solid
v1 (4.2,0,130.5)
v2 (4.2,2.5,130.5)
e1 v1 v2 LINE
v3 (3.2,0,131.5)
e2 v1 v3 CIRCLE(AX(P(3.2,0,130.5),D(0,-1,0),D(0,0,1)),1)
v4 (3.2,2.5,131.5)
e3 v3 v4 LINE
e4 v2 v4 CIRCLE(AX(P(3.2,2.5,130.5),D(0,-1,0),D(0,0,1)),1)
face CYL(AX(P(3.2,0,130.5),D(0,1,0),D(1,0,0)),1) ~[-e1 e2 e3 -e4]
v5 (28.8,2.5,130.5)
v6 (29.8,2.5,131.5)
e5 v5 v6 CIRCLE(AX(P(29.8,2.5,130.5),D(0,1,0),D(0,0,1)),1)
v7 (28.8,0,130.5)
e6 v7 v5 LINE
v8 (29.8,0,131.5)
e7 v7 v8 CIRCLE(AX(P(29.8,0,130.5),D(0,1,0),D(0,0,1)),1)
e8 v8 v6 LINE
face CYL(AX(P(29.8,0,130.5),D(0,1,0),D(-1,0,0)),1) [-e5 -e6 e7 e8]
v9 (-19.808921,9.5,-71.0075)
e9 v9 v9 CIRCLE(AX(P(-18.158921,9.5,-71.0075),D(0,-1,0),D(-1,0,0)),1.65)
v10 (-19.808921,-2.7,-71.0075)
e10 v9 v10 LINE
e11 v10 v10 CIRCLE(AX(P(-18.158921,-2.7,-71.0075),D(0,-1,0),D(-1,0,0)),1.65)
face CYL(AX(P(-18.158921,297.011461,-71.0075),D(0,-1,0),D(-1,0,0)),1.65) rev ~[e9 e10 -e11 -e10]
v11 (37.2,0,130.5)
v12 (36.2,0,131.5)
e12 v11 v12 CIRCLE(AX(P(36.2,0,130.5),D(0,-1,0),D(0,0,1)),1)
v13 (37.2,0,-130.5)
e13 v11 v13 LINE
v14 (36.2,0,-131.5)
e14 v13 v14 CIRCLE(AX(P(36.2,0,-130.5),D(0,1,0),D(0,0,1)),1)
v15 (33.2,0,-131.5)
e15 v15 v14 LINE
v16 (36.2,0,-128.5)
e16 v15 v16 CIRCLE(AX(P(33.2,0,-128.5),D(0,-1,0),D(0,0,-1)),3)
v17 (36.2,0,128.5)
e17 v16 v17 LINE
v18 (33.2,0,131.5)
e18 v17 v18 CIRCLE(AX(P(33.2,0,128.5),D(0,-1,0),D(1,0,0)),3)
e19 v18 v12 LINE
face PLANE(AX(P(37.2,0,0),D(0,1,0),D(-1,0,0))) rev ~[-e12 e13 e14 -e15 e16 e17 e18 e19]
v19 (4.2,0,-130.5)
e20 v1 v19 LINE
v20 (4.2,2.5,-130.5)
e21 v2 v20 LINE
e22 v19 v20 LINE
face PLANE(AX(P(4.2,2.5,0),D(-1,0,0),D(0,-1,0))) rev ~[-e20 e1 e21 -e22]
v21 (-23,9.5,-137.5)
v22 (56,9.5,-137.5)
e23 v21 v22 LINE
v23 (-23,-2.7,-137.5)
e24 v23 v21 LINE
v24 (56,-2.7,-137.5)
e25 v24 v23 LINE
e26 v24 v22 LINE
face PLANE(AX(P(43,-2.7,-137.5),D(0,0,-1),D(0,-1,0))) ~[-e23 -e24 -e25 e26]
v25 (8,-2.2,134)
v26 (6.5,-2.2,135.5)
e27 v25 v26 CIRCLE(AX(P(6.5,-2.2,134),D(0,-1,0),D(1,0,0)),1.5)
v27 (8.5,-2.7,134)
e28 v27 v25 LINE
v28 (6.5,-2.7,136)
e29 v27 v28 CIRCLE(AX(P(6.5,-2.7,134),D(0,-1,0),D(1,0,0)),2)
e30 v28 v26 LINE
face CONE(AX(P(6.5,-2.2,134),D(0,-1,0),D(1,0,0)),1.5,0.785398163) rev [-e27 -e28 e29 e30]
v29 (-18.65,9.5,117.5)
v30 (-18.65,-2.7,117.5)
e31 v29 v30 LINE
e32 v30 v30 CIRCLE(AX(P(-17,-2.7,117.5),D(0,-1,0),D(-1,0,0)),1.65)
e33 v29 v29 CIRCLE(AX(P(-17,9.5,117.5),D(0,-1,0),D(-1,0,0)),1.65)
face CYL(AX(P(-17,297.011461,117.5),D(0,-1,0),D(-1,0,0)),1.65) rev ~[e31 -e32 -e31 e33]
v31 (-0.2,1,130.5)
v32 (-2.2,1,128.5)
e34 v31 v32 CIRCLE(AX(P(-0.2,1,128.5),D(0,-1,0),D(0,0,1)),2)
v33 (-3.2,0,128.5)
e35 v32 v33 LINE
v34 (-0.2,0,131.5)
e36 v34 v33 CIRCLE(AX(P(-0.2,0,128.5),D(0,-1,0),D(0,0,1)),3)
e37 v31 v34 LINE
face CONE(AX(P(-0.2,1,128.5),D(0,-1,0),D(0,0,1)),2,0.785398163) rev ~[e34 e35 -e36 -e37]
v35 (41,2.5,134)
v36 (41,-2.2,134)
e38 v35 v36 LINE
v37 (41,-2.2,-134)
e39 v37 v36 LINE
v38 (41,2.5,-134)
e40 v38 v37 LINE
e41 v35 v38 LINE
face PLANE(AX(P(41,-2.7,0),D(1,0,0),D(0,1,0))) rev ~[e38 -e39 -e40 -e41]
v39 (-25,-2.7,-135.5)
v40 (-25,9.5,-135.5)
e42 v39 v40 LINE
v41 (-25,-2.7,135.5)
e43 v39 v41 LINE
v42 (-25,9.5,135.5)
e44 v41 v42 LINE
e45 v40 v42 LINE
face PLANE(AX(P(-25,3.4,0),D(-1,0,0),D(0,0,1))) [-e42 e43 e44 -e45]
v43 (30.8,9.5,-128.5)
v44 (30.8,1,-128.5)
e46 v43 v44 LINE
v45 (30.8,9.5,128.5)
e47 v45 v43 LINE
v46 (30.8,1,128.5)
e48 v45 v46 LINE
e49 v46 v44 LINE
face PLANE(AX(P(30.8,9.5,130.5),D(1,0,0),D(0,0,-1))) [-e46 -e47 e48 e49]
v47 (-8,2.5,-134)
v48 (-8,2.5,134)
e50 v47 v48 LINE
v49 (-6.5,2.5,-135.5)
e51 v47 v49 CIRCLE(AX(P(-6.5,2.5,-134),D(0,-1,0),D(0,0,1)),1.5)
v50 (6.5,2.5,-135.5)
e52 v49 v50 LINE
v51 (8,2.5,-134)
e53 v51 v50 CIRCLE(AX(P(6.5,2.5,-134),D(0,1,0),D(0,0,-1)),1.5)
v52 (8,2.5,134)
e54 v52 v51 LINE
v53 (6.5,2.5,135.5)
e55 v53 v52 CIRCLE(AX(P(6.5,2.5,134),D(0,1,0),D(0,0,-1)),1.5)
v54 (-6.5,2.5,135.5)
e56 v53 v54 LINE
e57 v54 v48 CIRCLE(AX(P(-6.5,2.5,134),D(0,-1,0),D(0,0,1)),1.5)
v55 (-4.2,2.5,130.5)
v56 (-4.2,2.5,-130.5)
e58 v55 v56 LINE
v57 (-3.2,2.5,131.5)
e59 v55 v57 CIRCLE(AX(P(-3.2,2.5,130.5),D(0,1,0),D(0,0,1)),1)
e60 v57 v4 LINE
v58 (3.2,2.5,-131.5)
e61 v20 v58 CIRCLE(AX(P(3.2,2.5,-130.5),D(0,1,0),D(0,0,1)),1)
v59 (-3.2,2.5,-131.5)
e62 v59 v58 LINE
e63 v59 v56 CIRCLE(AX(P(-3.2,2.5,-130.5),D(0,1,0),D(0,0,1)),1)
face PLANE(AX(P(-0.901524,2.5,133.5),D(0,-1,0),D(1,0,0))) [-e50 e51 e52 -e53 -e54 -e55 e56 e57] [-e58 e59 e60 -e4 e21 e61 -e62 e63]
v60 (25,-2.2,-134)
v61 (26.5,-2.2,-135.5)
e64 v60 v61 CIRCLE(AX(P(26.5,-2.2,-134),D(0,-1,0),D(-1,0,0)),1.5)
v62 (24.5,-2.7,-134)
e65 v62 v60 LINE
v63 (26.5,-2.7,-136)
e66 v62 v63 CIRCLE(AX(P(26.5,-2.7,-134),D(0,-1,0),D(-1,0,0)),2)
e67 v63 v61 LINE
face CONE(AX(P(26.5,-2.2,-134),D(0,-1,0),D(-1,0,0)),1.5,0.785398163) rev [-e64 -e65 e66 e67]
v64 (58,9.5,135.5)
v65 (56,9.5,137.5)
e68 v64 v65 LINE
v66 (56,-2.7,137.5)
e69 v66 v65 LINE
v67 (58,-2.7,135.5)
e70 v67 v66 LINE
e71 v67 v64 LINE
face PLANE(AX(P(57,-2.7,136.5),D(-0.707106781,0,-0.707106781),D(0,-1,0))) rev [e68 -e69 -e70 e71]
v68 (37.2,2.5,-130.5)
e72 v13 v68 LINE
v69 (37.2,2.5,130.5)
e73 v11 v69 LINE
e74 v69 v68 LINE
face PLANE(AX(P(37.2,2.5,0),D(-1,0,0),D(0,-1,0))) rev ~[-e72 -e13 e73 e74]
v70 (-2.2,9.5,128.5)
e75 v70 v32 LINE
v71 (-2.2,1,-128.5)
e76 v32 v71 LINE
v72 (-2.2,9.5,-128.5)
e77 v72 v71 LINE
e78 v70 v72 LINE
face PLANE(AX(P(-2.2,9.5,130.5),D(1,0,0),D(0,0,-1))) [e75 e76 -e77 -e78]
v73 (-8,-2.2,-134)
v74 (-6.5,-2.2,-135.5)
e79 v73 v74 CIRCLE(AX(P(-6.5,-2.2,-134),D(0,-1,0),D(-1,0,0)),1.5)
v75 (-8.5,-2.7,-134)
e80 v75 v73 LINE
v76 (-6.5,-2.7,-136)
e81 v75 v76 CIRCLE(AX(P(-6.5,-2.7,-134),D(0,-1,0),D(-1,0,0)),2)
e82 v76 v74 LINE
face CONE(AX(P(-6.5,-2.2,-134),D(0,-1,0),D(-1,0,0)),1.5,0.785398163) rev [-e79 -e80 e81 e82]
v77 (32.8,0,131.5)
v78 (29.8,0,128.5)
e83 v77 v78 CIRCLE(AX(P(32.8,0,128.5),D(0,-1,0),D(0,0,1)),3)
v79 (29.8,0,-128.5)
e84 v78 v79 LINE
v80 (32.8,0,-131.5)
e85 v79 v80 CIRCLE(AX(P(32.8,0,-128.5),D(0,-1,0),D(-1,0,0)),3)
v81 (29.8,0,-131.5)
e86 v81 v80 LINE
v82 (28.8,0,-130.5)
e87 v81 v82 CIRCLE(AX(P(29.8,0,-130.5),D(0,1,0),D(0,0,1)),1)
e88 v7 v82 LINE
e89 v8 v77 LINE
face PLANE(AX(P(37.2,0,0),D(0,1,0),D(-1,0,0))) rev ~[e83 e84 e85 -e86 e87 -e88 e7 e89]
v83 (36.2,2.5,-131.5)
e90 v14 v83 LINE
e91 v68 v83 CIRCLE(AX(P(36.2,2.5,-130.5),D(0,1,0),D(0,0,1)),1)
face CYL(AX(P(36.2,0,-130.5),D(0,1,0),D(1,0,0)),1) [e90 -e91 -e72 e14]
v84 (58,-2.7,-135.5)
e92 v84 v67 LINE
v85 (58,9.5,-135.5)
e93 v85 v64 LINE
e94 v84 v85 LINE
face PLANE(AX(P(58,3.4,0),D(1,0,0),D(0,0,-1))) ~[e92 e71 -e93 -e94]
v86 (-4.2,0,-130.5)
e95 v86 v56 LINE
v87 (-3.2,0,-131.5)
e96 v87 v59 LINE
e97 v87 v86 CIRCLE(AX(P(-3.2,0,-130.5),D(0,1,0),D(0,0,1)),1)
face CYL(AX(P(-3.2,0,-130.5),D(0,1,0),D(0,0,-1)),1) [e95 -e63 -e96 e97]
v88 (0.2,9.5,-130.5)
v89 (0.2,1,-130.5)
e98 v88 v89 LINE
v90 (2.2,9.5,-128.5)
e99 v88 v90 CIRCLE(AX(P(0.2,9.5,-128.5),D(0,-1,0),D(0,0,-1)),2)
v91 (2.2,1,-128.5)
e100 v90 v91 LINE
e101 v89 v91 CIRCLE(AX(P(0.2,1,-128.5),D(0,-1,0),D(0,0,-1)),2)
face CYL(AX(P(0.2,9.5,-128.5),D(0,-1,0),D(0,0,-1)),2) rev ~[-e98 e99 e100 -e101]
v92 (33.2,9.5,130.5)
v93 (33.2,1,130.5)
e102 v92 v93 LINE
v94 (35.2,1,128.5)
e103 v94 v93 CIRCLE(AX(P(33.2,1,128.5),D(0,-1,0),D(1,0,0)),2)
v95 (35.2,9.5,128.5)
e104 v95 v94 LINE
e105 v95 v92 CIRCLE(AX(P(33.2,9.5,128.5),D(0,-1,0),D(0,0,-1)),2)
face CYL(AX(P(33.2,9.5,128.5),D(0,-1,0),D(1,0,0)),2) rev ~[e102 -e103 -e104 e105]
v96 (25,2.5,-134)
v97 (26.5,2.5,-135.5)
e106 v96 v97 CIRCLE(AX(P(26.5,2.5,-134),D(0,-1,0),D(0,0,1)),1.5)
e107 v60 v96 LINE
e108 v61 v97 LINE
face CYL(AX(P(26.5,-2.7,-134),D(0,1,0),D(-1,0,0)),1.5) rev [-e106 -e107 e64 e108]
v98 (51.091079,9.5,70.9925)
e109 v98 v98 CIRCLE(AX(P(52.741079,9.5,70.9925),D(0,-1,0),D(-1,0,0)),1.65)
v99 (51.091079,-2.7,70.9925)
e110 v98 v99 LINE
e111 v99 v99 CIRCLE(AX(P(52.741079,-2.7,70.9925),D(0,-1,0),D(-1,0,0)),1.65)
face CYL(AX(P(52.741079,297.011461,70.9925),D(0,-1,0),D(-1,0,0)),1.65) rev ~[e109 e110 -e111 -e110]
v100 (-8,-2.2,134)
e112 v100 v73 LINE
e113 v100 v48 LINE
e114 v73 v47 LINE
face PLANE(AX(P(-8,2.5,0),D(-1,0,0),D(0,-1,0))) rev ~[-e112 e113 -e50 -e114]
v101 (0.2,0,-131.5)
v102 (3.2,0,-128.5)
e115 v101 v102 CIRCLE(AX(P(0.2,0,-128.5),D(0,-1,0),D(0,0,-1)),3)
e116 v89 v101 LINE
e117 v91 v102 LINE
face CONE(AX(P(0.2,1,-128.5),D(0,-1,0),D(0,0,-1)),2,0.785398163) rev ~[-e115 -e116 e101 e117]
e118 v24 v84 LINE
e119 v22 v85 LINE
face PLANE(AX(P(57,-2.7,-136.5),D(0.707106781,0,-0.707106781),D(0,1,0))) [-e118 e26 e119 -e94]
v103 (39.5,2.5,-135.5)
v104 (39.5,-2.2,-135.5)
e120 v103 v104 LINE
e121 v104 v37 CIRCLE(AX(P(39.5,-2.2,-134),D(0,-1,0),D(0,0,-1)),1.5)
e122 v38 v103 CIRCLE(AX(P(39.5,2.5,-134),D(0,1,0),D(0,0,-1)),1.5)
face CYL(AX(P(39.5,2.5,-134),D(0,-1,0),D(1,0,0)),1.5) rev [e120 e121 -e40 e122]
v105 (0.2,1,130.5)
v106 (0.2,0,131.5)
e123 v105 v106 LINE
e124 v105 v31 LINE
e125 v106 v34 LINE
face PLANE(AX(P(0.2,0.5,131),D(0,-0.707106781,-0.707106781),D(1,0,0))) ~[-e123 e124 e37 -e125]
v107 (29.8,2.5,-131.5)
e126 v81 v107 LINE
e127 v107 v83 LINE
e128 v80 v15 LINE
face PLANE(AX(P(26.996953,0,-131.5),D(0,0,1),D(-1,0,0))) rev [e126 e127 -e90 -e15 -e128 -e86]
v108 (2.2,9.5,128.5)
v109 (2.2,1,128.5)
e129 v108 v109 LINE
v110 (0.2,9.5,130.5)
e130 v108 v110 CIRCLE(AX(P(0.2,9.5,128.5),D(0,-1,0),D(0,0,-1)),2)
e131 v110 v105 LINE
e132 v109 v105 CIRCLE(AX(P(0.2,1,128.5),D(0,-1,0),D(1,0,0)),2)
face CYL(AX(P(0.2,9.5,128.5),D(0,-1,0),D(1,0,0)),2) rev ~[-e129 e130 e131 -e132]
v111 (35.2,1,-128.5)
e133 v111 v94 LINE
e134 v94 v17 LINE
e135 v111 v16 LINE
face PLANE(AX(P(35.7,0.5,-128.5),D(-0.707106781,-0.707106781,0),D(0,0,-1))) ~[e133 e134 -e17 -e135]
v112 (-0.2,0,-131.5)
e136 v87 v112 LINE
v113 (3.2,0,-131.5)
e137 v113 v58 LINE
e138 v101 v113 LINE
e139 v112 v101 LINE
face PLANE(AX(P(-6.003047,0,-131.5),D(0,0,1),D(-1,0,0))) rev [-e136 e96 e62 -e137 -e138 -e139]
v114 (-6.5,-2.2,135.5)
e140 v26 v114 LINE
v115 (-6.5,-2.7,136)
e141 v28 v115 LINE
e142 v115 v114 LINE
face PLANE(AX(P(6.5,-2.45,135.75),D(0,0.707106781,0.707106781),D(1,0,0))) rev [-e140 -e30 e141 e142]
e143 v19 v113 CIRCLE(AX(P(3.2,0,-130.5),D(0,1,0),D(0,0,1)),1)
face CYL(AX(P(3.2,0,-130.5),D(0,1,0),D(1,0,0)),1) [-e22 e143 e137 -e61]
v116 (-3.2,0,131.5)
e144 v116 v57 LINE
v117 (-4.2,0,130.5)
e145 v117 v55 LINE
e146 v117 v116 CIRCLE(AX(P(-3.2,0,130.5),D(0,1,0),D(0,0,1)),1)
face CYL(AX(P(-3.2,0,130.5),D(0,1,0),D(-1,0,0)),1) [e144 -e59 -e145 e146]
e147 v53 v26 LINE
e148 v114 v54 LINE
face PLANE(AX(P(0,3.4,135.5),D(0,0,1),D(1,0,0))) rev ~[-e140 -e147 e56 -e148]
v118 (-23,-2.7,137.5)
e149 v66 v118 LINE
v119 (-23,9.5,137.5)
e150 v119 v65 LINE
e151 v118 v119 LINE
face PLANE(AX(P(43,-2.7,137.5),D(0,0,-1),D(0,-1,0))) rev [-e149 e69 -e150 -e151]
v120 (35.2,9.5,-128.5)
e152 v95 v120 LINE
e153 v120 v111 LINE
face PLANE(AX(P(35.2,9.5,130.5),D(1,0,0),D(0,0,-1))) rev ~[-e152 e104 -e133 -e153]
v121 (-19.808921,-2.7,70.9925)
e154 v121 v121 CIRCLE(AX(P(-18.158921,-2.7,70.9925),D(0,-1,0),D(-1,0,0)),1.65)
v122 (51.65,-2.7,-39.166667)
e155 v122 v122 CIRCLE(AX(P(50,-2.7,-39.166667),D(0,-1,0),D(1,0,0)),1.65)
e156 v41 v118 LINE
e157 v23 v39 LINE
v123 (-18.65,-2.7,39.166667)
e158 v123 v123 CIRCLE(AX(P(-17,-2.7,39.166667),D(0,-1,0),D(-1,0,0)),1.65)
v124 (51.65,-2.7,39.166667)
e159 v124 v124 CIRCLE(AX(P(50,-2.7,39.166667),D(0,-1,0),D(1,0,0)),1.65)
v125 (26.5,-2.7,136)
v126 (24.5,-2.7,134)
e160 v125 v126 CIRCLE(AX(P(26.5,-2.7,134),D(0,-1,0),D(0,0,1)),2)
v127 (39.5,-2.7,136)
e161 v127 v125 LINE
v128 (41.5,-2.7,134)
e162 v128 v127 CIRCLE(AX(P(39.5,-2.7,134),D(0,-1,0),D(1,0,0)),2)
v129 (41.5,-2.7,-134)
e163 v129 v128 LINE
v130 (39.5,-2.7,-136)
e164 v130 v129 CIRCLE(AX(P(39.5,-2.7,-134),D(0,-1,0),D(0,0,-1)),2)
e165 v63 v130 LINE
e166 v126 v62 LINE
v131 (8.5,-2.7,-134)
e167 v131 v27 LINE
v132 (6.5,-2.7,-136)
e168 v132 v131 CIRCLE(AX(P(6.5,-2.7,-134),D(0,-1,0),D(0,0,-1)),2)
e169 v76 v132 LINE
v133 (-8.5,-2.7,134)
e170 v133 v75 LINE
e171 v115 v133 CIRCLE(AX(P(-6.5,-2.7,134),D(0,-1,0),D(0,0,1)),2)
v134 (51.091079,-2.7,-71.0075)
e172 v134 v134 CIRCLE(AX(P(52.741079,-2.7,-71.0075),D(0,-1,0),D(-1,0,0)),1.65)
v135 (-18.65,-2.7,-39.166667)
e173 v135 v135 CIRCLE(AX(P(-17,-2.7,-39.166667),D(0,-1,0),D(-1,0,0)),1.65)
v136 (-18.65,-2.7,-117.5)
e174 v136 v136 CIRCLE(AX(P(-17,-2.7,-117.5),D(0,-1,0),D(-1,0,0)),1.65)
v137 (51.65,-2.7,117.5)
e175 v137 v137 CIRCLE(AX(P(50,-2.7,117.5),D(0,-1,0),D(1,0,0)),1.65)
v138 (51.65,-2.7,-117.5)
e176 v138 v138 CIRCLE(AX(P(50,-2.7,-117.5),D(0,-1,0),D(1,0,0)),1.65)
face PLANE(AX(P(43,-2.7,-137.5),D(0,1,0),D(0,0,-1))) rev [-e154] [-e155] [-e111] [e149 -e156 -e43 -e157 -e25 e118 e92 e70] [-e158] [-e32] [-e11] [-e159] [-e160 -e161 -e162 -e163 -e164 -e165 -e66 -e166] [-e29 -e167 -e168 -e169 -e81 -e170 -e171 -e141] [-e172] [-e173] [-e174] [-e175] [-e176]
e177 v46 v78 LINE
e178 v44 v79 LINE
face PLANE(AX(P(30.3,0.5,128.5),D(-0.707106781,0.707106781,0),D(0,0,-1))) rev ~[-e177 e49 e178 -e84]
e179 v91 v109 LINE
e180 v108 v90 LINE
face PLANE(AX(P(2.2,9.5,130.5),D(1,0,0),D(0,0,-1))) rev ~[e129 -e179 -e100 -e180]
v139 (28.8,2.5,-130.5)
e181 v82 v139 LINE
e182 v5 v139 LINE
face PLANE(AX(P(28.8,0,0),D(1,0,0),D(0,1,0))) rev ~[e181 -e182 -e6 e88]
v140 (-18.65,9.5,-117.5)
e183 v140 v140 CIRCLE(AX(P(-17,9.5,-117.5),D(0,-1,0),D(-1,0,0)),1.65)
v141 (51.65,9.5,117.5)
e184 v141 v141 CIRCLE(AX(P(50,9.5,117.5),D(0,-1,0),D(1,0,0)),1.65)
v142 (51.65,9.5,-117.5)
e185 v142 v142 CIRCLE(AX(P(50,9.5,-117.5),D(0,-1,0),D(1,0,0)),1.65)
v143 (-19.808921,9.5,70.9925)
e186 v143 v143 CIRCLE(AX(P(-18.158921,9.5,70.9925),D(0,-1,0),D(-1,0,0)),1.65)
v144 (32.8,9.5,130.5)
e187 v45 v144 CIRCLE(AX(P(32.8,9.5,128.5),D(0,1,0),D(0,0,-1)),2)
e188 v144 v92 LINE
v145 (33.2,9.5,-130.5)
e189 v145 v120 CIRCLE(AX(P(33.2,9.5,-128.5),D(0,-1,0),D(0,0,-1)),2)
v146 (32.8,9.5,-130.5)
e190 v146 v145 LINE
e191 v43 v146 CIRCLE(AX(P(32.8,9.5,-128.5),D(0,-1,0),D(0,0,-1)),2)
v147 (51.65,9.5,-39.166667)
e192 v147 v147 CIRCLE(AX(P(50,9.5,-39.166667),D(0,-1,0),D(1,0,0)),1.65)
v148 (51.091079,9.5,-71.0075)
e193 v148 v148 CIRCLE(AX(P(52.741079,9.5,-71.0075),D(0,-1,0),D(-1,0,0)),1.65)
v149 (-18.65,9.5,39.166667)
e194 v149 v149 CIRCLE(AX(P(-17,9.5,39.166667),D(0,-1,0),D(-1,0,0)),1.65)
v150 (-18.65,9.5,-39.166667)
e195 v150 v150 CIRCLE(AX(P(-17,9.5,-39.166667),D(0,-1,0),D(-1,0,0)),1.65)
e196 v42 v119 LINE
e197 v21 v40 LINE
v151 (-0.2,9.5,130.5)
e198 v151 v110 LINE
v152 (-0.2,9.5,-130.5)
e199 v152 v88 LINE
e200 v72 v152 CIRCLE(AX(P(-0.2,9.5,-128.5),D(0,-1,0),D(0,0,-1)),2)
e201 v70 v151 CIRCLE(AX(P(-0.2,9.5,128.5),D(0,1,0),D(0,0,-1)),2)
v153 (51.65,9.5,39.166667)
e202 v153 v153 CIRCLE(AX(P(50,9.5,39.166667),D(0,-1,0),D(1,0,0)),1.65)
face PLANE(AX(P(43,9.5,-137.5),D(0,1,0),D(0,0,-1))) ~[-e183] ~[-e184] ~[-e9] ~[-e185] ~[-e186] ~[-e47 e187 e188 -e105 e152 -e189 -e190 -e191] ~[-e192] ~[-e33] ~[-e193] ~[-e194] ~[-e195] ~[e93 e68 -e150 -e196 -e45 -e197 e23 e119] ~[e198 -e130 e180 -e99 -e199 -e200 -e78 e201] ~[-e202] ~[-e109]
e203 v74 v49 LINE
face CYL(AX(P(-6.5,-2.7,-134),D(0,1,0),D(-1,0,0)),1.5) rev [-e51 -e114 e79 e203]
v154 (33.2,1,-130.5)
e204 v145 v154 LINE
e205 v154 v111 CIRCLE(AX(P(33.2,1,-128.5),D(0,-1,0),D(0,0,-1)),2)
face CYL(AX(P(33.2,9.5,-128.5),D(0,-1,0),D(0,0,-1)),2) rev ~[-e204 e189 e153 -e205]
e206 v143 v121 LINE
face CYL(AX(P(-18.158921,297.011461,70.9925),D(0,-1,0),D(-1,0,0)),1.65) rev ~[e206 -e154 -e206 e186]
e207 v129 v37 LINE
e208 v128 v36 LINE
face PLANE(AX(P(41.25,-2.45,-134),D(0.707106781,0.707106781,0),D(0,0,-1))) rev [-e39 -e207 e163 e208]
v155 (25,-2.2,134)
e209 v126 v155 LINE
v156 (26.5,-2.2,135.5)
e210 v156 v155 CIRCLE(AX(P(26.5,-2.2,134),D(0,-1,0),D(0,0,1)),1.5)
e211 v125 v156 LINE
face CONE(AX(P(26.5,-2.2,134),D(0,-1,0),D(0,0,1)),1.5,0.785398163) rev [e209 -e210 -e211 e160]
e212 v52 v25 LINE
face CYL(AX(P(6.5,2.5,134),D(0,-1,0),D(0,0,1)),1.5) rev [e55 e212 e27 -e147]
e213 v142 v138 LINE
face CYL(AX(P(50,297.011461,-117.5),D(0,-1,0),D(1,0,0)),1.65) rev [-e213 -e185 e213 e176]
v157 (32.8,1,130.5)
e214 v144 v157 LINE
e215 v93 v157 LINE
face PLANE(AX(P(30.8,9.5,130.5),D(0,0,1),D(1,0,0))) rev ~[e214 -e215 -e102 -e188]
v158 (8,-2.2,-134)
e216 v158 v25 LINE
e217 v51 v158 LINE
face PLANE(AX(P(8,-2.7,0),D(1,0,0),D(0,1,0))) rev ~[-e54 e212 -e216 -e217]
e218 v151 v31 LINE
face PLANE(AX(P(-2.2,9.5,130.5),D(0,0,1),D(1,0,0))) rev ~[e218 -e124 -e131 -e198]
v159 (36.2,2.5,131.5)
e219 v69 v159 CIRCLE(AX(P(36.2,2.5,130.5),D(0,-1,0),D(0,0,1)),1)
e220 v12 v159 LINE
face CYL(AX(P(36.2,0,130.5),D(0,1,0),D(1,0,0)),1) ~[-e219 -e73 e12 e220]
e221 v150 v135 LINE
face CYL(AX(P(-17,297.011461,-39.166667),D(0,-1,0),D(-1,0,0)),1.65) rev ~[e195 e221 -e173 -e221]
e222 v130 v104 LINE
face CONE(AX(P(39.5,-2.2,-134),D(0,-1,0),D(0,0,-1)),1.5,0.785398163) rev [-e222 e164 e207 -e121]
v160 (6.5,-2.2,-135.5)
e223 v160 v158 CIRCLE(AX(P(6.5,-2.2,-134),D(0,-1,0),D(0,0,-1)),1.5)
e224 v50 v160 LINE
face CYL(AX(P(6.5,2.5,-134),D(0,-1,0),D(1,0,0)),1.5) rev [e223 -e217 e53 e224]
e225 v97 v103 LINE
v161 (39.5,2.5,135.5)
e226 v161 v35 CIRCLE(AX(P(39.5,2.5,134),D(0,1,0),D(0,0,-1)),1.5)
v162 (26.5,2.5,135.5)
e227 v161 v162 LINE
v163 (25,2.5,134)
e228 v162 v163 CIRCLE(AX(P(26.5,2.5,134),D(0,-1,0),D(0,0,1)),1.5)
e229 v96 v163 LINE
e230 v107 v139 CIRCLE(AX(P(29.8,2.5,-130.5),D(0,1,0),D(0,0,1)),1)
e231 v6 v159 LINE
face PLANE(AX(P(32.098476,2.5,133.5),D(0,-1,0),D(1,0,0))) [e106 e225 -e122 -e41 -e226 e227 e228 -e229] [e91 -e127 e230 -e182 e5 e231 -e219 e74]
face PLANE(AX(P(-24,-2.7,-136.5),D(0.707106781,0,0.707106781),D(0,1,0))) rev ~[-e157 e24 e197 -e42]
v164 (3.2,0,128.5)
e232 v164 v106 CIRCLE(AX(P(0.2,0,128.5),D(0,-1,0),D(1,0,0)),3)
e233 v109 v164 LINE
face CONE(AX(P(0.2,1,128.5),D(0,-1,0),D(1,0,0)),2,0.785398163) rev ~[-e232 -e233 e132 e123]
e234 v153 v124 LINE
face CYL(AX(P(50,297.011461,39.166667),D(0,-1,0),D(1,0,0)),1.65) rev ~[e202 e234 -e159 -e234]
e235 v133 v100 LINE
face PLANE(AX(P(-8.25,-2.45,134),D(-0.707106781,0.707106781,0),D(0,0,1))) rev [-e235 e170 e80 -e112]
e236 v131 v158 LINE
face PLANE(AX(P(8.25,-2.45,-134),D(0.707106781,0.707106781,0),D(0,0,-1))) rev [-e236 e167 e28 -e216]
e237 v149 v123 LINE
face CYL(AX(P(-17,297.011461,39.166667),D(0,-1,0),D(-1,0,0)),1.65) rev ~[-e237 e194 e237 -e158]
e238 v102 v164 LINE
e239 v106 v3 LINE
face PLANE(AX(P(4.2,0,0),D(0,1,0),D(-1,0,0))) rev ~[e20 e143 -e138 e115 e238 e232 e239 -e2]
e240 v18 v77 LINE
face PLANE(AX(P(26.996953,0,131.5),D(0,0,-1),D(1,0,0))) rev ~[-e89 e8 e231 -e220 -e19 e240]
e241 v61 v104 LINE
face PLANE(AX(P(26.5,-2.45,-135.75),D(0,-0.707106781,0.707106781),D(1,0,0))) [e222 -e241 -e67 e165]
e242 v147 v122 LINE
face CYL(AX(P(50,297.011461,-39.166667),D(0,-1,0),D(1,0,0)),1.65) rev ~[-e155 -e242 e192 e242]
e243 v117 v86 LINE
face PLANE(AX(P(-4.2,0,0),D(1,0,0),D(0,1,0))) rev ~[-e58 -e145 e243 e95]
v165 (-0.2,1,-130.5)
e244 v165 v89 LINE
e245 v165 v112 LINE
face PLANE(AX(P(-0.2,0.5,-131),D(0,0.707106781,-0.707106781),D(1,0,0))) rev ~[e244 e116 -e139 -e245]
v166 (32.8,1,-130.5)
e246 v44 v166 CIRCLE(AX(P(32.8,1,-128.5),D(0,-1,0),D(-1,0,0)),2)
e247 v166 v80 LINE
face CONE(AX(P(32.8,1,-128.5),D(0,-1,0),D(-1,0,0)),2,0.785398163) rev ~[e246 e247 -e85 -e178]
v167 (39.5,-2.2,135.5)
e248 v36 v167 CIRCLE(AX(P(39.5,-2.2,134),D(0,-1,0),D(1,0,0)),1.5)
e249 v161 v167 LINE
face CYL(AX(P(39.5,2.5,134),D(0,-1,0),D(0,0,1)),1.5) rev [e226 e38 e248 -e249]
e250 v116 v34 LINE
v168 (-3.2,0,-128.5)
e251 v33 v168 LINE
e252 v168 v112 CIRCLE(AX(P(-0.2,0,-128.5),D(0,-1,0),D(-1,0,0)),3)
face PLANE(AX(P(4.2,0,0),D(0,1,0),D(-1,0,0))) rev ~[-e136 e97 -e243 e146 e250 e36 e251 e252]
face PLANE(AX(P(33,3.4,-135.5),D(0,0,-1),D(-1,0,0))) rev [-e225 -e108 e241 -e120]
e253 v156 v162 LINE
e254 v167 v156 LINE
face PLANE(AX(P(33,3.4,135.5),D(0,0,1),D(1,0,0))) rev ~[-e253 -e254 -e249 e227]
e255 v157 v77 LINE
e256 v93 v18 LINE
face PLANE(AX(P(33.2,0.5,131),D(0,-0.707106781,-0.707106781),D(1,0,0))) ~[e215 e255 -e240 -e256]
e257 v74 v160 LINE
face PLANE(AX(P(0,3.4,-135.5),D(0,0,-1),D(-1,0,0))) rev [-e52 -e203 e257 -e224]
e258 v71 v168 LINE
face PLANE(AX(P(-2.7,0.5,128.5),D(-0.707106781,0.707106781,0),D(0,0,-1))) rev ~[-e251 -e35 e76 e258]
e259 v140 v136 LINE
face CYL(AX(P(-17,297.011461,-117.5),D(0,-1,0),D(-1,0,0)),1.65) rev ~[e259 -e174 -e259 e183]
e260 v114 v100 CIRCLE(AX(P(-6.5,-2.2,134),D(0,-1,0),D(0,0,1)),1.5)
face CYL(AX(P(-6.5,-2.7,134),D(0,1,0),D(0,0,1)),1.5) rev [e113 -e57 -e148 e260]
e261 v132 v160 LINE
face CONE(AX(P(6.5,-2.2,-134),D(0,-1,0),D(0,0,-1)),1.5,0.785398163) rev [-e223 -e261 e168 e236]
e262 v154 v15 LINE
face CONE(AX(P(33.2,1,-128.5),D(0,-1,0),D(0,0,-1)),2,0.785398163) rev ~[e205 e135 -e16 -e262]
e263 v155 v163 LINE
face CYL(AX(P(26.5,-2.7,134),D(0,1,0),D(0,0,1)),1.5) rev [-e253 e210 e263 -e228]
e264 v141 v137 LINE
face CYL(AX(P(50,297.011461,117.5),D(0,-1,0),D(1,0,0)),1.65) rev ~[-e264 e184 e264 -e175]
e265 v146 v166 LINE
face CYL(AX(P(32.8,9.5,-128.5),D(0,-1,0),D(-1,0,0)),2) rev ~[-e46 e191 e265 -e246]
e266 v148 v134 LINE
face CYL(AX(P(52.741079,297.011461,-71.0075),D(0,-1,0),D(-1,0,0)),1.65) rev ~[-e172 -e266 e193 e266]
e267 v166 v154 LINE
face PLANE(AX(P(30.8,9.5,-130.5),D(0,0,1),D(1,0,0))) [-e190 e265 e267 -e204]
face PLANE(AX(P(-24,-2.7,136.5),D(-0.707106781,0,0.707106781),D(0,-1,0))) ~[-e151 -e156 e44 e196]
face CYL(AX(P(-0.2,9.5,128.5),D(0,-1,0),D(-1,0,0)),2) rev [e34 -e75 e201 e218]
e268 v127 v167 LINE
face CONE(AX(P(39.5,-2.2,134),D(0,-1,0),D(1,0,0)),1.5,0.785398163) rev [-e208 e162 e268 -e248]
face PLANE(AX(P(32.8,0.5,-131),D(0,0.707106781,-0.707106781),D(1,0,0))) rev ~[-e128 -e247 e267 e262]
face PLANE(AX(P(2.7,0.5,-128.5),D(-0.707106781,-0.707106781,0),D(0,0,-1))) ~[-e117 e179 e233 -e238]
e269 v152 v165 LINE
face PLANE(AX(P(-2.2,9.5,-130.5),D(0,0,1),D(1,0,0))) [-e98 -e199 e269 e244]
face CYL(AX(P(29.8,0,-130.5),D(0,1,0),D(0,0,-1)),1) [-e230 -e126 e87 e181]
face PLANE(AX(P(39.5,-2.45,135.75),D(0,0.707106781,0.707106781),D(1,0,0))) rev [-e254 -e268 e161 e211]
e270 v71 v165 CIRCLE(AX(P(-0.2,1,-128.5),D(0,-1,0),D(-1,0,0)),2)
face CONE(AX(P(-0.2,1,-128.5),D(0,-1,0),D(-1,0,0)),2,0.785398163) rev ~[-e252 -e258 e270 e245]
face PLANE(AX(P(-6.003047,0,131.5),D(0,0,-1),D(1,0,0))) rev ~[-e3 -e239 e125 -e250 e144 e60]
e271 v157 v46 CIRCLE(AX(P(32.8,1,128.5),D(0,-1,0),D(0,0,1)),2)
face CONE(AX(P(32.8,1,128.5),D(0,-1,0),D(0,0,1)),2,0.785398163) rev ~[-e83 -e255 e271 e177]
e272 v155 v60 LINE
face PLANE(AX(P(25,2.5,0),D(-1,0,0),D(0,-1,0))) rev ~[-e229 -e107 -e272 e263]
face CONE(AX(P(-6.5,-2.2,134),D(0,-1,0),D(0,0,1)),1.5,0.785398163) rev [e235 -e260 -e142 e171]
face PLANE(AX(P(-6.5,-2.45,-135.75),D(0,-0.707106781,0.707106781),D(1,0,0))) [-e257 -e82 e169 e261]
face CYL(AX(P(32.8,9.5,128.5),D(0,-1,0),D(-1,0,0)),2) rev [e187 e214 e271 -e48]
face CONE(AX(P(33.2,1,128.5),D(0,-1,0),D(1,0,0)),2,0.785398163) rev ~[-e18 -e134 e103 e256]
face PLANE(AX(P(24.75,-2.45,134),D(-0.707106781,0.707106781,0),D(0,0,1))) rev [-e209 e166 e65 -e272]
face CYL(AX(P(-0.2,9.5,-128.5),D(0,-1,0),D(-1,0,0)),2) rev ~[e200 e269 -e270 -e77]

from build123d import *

# Parameters (mm, degrees)
BOSS_EXTRUDE1_DEPTH = 137.5
SKETCH3_W           = 20
SKETCH3_H           = 12.2
BOSS_EXTRUDE2_DEPTH = 2
SKETCH2_W           = 4.4
SKETCH2_H           = 261
CUT_EXTRUDE1_DEPTH  = 13.2
FILLET3_R           = 2
CHAMFER1_SIZE       = 1
SKETCH4_W           = 10.203047284
SKETCH4_H           = 4
CUT_EXTRUDE2_DEPTH  = 2.5
LPATTERN2_COUNT     = 2
LPATTERN2_PITCH     = 33
BOSS_EXTRUDE3_START = -275
SKETCH7_W           = 13
SKETCH7_H           = 12.2
BOSS_EXTRUDE3_DEPTH = 275
SKETCH8_W           = 275
SKETCH8_H           = 12.2
BOSS_EXTRUDE4_DEPTH = 15
M4_TAPPED_HOLE1_D   = 3.3
LPATTERN3_COUNT     = 4
LPATTERN3_PITCH     = 78.333333333
MIRROR5_COPY_1_D    = 3.3
MIRROR5_COPY_2_D    = 3.3
MIRROR5_COPY_3_D    = 3.3
M4_TAPPED_HOLE2_D   = 3.3
FILLET1_R           = 1.5
CHAMFER2_SIZE       = 0.5
CHAMFER4_SIZE       = 2
FILLET4_R           = 1
M4_TAPPED_HOLE3_D   = 3.3


with BuildPart() as part:
    # Sketch1 → Boss-Extrude1 (new body, symmetric)
    with BuildSketch(Plane.XY):
        Polygon((-10, -2.7), (-10, 9.5), (10, 9.5), (10, -2.7), (8, -2.7), (8, 2.5), (4.2, 2.5), (4.2, 0), (-4.2, 0), (-4.2, 2.5), (-8, 2.5), (-8, -2.7), align=None)
    extrude(amount=BOSS_EXTRUDE1_DEPTH, both=True)

    # Sketch3 → Boss-Extrude2 (add)
    with BuildSketch(Plane.XY.offset(137.5)):
        with Locations((0, 3.4)):
            Rectangle(SKETCH3_W, SKETCH3_H)
    boss_extrude2 = extrude(amount=-BOSS_EXTRUDE2_DEPTH)

    # Mirror1: Boss-Extrude2 across plane
    add(boss_extrude2.mirror(Plane.XY))

    # Sketch2 → Cut-Extrude1 (cut, through all)
    with BuildSketch(Plane(origin=(0, 9.5, 0), x_dir=(1, 0, 0), z_dir=(0, 1, 0))):
        Rectangle(SKETCH2_W, SKETCH2_H)
    extrude(amount=-CUT_EXTRUDE1_DEPTH, mode=Mode.SUBTRACT)

    # Fillet3
    fillet3_edges = [part.edges().sort_by_distance(p)[0] for p in [
        (2.2, 4.75, -130.5),
        (2.2, 4.75, 130.5),
        (-2.2, 4.75, 130.5),
        (-2.2, 4.75, -130.5),
    ]]
    fillet(fillet3_edges, radius=FILLET3_R)

    # Chamfer1
    chamfer1_edges = [part.edges().sort_by_distance(p)[0] for p in [
        (-2.2, 0, 0),
        (0, 0, -130.5),
        (2.2, 0, 0),
        (0, 0, 130.5),
        (-1.614213562, 0, -129.914213562),
        (1.614213562, 0, -129.914213562),
        (1.614213562, 0, 129.914213562),
        (-1.614213562, 0, 129.914213562),
    ]]
    chamfer(chamfer1_edges, length=CHAMFER1_SIZE)

    # Sketch4 → Cut-Extrude2 (cut)
    with BuildSketch(Plane.XZ):
        with Locations((-0.901523642, 133.5)):
            Rectangle(SKETCH4_W, SKETCH4_H)
    cut_extrude2 = extrude(amount=-CUT_EXTRUDE2_DEPTH, mode=Mode.SUBTRACT)

    # Mirror2: Cut-Extrude2 across plane
    add(cut_extrude2.mirror(Plane.XY), mode=Mode.SUBTRACT)


with BuildPart() as lpattern2_1:
    # LPattern2: pattern copy
    add(part.part.moved(Location(Vector(1, 0, 0) * (1 * LPATTERN2_PITCH))))


with BuildPart() as part_1:
    add(part.part)

    add(lpattern2_1.part)  # Boss-Extrude3 merges LPattern2_1
    # Sketch7 → Boss-Extrude3 (add)
    with BuildSketch(Plane(origin=(0, 0, -137.5), x_dir=(-1, 0, 0), z_dir=(0, 0, -1)).offset(BOSS_EXTRUDE3_START)):
        with Locations((-16.5, 3.4)):
            Rectangle(SKETCH7_W, SKETCH7_H)
    extrude(amount=BOSS_EXTRUDE3_DEPTH)

    # Sketch8 → Boss-Extrude4 (add)
    with BuildSketch(Plane.ZY.offset(10)):
        with Locations((0, 3.4)):
            Rectangle(SKETCH8_W, SKETCH8_H)
    boss_extrude4 = extrude(amount=BOSS_EXTRUDE4_DEPTH)

    # Mirror4: Boss-Extrude4 across plane
    add(boss_extrude4.mirror(Plane.ZY.offset(-16.5)))

    # M4 Tapped Hole1 (through all)
    with Locations(Plane(origin=(0, 9.5, 0), x_dir=(1, 0, 0), z_dir=(0, 1, 0))):
        with Locations((-17, 117.5)):
            m4_tapped_hole1 = Hole(M4_TAPPED_HOLE1_D / 2)

    # LPattern3: M4 Tapped Hole1 ×4
    with Locations(*[(0, 0, i * LPATTERN3_PITCH) for i in range(1, LPATTERN3_COUNT)]):
        add(m4_tapped_hole1, mode=Mode.SUBTRACT)

    # Mirror5: M4 Tapped Hole1 across plane
    add(m4_tapped_hole1.mirror(Plane.ZY.offset(-16.5)), mode=Mode.SUBTRACT)

    # Mirror5 copy 1 (through all)
    with Locations(Plane(origin=(33, 9.5, 78.333333333), x_dir=(-1, 0, 0), z_dir=(0, 1, 0))):
        with Locations((-17, -117.5)):
            Hole(MIRROR5_COPY_1_D / 2)

    # Mirror5 copy 2 (through all)
    with Locations(Plane(origin=(33, 9.5, 156.666666667), x_dir=(-1, 0, 0), z_dir=(0, 1, 0))):
        with Locations((-17, -117.5)):
            Hole(MIRROR5_COPY_2_D / 2)

    # Mirror5 copy 3 (through all)
    with Locations(Plane(origin=(33, 9.5, 235), x_dir=(-1, 0, 0), z_dir=(0, 1, 0))):
        with Locations((-17, -117.5)):
            Hole(MIRROR5_COPY_3_D / 2)

    # M4 Tapped Hole2 (through all)
    with Locations(Plane(origin=(0, 9.5, 0), x_dir=(1, 0, 0), z_dir=(0, 1, 0))):
        with Locations((52.741079456, -70.992499999), (52.741079456, 71.007500001)):
            Hole(M4_TAPPED_HOLE2_D / 2)

    # Fillet1
    fillet1_edges = [part_1.edges().sort_by_distance(p)[0] for p in [
        (41, -0.1, 135.5),
        (25, -0.1, 135.5),
        (41, -0.1, -135.5),
        (25, -0.1, -135.5),
        (-8, -0.1, 135.5),
        (8, -0.1, 135.5),
        (-8, -0.1, -135.5),
        (8, -0.1, -135.5),
    ]]
    fillet(fillet1_edges, radius=FILLET1_R)

    # Chamfer2
    chamfer2_edges = [part_1.edges().sort_by_distance(p)[0] for p in [
        (33, -2.7, -135.5),
        (41, -2.7, 0),
        (25, -2.7, 0),
        (33, -2.7, 135.5),
        (0, -2.7, -135.5),
        (-8, -2.7, 0),
        (8, -2.7, 0),
        (0, -2.7, 135.5),
        (40.560660172, -2.7, -135.060660172),
        (25.439339828, -2.7, -135.060660172),
        (40.560660172, -2.7, 135.060660172),
        (25.439339828, -2.7, 135.060660172),
        (-7.560660172, -2.7, -135.060660172),
        (7.560660172, -2.7, -135.060660172),
        (7.560660172, -2.7, 135.060660172),
        (-7.560660172, -2.7, 135.060660172),
    ]]
    chamfer(chamfer2_edges, length=CHAMFER2_SIZE)

    # Chamfer4
    chamfer4_edges = [part_1.edges().sort_by_distance(p)[0] for p in [
        (-25, 3.4, -137.5),
        (-25, 3.4, 137.5),
        (58, 3.4, 137.5),
        (58, 3.4, -137.5),
    ]]
    chamfer(chamfer4_edges, length=CHAMFER4_SIZE)

    # Fillet4
    fillet4_edges = [part_1.edges().sort_by_distance(p)[0] for p in [
        (-4.2, 1.25, 131.5),
        (4.2, 1.25, 131.5),
        (-4.2, 1.25, -131.5),
        (4.2, 1.25, -131.5),
        (28.8, 1.25, 131.5),
        (37.2, 1.25, 131.5),
        (28.8, 1.25, -131.5),
        (37.2, 1.25, -131.5),
    ]]
    fillet(fillet4_edges, radius=FILLET4_R)

    # M4 Tapped Hole3 (through all)
    with Locations(Plane(origin=(0, 9.5, 0), x_dir=(1, 0, 0), z_dir=(0, 1, 0))):
        with Locations((-18.158920544, -70.992499999), (-18.158920544, 71.007500001)):
            Hole(M4_TAPPED_HOLE3_D / 2)


solid = part_1.part
